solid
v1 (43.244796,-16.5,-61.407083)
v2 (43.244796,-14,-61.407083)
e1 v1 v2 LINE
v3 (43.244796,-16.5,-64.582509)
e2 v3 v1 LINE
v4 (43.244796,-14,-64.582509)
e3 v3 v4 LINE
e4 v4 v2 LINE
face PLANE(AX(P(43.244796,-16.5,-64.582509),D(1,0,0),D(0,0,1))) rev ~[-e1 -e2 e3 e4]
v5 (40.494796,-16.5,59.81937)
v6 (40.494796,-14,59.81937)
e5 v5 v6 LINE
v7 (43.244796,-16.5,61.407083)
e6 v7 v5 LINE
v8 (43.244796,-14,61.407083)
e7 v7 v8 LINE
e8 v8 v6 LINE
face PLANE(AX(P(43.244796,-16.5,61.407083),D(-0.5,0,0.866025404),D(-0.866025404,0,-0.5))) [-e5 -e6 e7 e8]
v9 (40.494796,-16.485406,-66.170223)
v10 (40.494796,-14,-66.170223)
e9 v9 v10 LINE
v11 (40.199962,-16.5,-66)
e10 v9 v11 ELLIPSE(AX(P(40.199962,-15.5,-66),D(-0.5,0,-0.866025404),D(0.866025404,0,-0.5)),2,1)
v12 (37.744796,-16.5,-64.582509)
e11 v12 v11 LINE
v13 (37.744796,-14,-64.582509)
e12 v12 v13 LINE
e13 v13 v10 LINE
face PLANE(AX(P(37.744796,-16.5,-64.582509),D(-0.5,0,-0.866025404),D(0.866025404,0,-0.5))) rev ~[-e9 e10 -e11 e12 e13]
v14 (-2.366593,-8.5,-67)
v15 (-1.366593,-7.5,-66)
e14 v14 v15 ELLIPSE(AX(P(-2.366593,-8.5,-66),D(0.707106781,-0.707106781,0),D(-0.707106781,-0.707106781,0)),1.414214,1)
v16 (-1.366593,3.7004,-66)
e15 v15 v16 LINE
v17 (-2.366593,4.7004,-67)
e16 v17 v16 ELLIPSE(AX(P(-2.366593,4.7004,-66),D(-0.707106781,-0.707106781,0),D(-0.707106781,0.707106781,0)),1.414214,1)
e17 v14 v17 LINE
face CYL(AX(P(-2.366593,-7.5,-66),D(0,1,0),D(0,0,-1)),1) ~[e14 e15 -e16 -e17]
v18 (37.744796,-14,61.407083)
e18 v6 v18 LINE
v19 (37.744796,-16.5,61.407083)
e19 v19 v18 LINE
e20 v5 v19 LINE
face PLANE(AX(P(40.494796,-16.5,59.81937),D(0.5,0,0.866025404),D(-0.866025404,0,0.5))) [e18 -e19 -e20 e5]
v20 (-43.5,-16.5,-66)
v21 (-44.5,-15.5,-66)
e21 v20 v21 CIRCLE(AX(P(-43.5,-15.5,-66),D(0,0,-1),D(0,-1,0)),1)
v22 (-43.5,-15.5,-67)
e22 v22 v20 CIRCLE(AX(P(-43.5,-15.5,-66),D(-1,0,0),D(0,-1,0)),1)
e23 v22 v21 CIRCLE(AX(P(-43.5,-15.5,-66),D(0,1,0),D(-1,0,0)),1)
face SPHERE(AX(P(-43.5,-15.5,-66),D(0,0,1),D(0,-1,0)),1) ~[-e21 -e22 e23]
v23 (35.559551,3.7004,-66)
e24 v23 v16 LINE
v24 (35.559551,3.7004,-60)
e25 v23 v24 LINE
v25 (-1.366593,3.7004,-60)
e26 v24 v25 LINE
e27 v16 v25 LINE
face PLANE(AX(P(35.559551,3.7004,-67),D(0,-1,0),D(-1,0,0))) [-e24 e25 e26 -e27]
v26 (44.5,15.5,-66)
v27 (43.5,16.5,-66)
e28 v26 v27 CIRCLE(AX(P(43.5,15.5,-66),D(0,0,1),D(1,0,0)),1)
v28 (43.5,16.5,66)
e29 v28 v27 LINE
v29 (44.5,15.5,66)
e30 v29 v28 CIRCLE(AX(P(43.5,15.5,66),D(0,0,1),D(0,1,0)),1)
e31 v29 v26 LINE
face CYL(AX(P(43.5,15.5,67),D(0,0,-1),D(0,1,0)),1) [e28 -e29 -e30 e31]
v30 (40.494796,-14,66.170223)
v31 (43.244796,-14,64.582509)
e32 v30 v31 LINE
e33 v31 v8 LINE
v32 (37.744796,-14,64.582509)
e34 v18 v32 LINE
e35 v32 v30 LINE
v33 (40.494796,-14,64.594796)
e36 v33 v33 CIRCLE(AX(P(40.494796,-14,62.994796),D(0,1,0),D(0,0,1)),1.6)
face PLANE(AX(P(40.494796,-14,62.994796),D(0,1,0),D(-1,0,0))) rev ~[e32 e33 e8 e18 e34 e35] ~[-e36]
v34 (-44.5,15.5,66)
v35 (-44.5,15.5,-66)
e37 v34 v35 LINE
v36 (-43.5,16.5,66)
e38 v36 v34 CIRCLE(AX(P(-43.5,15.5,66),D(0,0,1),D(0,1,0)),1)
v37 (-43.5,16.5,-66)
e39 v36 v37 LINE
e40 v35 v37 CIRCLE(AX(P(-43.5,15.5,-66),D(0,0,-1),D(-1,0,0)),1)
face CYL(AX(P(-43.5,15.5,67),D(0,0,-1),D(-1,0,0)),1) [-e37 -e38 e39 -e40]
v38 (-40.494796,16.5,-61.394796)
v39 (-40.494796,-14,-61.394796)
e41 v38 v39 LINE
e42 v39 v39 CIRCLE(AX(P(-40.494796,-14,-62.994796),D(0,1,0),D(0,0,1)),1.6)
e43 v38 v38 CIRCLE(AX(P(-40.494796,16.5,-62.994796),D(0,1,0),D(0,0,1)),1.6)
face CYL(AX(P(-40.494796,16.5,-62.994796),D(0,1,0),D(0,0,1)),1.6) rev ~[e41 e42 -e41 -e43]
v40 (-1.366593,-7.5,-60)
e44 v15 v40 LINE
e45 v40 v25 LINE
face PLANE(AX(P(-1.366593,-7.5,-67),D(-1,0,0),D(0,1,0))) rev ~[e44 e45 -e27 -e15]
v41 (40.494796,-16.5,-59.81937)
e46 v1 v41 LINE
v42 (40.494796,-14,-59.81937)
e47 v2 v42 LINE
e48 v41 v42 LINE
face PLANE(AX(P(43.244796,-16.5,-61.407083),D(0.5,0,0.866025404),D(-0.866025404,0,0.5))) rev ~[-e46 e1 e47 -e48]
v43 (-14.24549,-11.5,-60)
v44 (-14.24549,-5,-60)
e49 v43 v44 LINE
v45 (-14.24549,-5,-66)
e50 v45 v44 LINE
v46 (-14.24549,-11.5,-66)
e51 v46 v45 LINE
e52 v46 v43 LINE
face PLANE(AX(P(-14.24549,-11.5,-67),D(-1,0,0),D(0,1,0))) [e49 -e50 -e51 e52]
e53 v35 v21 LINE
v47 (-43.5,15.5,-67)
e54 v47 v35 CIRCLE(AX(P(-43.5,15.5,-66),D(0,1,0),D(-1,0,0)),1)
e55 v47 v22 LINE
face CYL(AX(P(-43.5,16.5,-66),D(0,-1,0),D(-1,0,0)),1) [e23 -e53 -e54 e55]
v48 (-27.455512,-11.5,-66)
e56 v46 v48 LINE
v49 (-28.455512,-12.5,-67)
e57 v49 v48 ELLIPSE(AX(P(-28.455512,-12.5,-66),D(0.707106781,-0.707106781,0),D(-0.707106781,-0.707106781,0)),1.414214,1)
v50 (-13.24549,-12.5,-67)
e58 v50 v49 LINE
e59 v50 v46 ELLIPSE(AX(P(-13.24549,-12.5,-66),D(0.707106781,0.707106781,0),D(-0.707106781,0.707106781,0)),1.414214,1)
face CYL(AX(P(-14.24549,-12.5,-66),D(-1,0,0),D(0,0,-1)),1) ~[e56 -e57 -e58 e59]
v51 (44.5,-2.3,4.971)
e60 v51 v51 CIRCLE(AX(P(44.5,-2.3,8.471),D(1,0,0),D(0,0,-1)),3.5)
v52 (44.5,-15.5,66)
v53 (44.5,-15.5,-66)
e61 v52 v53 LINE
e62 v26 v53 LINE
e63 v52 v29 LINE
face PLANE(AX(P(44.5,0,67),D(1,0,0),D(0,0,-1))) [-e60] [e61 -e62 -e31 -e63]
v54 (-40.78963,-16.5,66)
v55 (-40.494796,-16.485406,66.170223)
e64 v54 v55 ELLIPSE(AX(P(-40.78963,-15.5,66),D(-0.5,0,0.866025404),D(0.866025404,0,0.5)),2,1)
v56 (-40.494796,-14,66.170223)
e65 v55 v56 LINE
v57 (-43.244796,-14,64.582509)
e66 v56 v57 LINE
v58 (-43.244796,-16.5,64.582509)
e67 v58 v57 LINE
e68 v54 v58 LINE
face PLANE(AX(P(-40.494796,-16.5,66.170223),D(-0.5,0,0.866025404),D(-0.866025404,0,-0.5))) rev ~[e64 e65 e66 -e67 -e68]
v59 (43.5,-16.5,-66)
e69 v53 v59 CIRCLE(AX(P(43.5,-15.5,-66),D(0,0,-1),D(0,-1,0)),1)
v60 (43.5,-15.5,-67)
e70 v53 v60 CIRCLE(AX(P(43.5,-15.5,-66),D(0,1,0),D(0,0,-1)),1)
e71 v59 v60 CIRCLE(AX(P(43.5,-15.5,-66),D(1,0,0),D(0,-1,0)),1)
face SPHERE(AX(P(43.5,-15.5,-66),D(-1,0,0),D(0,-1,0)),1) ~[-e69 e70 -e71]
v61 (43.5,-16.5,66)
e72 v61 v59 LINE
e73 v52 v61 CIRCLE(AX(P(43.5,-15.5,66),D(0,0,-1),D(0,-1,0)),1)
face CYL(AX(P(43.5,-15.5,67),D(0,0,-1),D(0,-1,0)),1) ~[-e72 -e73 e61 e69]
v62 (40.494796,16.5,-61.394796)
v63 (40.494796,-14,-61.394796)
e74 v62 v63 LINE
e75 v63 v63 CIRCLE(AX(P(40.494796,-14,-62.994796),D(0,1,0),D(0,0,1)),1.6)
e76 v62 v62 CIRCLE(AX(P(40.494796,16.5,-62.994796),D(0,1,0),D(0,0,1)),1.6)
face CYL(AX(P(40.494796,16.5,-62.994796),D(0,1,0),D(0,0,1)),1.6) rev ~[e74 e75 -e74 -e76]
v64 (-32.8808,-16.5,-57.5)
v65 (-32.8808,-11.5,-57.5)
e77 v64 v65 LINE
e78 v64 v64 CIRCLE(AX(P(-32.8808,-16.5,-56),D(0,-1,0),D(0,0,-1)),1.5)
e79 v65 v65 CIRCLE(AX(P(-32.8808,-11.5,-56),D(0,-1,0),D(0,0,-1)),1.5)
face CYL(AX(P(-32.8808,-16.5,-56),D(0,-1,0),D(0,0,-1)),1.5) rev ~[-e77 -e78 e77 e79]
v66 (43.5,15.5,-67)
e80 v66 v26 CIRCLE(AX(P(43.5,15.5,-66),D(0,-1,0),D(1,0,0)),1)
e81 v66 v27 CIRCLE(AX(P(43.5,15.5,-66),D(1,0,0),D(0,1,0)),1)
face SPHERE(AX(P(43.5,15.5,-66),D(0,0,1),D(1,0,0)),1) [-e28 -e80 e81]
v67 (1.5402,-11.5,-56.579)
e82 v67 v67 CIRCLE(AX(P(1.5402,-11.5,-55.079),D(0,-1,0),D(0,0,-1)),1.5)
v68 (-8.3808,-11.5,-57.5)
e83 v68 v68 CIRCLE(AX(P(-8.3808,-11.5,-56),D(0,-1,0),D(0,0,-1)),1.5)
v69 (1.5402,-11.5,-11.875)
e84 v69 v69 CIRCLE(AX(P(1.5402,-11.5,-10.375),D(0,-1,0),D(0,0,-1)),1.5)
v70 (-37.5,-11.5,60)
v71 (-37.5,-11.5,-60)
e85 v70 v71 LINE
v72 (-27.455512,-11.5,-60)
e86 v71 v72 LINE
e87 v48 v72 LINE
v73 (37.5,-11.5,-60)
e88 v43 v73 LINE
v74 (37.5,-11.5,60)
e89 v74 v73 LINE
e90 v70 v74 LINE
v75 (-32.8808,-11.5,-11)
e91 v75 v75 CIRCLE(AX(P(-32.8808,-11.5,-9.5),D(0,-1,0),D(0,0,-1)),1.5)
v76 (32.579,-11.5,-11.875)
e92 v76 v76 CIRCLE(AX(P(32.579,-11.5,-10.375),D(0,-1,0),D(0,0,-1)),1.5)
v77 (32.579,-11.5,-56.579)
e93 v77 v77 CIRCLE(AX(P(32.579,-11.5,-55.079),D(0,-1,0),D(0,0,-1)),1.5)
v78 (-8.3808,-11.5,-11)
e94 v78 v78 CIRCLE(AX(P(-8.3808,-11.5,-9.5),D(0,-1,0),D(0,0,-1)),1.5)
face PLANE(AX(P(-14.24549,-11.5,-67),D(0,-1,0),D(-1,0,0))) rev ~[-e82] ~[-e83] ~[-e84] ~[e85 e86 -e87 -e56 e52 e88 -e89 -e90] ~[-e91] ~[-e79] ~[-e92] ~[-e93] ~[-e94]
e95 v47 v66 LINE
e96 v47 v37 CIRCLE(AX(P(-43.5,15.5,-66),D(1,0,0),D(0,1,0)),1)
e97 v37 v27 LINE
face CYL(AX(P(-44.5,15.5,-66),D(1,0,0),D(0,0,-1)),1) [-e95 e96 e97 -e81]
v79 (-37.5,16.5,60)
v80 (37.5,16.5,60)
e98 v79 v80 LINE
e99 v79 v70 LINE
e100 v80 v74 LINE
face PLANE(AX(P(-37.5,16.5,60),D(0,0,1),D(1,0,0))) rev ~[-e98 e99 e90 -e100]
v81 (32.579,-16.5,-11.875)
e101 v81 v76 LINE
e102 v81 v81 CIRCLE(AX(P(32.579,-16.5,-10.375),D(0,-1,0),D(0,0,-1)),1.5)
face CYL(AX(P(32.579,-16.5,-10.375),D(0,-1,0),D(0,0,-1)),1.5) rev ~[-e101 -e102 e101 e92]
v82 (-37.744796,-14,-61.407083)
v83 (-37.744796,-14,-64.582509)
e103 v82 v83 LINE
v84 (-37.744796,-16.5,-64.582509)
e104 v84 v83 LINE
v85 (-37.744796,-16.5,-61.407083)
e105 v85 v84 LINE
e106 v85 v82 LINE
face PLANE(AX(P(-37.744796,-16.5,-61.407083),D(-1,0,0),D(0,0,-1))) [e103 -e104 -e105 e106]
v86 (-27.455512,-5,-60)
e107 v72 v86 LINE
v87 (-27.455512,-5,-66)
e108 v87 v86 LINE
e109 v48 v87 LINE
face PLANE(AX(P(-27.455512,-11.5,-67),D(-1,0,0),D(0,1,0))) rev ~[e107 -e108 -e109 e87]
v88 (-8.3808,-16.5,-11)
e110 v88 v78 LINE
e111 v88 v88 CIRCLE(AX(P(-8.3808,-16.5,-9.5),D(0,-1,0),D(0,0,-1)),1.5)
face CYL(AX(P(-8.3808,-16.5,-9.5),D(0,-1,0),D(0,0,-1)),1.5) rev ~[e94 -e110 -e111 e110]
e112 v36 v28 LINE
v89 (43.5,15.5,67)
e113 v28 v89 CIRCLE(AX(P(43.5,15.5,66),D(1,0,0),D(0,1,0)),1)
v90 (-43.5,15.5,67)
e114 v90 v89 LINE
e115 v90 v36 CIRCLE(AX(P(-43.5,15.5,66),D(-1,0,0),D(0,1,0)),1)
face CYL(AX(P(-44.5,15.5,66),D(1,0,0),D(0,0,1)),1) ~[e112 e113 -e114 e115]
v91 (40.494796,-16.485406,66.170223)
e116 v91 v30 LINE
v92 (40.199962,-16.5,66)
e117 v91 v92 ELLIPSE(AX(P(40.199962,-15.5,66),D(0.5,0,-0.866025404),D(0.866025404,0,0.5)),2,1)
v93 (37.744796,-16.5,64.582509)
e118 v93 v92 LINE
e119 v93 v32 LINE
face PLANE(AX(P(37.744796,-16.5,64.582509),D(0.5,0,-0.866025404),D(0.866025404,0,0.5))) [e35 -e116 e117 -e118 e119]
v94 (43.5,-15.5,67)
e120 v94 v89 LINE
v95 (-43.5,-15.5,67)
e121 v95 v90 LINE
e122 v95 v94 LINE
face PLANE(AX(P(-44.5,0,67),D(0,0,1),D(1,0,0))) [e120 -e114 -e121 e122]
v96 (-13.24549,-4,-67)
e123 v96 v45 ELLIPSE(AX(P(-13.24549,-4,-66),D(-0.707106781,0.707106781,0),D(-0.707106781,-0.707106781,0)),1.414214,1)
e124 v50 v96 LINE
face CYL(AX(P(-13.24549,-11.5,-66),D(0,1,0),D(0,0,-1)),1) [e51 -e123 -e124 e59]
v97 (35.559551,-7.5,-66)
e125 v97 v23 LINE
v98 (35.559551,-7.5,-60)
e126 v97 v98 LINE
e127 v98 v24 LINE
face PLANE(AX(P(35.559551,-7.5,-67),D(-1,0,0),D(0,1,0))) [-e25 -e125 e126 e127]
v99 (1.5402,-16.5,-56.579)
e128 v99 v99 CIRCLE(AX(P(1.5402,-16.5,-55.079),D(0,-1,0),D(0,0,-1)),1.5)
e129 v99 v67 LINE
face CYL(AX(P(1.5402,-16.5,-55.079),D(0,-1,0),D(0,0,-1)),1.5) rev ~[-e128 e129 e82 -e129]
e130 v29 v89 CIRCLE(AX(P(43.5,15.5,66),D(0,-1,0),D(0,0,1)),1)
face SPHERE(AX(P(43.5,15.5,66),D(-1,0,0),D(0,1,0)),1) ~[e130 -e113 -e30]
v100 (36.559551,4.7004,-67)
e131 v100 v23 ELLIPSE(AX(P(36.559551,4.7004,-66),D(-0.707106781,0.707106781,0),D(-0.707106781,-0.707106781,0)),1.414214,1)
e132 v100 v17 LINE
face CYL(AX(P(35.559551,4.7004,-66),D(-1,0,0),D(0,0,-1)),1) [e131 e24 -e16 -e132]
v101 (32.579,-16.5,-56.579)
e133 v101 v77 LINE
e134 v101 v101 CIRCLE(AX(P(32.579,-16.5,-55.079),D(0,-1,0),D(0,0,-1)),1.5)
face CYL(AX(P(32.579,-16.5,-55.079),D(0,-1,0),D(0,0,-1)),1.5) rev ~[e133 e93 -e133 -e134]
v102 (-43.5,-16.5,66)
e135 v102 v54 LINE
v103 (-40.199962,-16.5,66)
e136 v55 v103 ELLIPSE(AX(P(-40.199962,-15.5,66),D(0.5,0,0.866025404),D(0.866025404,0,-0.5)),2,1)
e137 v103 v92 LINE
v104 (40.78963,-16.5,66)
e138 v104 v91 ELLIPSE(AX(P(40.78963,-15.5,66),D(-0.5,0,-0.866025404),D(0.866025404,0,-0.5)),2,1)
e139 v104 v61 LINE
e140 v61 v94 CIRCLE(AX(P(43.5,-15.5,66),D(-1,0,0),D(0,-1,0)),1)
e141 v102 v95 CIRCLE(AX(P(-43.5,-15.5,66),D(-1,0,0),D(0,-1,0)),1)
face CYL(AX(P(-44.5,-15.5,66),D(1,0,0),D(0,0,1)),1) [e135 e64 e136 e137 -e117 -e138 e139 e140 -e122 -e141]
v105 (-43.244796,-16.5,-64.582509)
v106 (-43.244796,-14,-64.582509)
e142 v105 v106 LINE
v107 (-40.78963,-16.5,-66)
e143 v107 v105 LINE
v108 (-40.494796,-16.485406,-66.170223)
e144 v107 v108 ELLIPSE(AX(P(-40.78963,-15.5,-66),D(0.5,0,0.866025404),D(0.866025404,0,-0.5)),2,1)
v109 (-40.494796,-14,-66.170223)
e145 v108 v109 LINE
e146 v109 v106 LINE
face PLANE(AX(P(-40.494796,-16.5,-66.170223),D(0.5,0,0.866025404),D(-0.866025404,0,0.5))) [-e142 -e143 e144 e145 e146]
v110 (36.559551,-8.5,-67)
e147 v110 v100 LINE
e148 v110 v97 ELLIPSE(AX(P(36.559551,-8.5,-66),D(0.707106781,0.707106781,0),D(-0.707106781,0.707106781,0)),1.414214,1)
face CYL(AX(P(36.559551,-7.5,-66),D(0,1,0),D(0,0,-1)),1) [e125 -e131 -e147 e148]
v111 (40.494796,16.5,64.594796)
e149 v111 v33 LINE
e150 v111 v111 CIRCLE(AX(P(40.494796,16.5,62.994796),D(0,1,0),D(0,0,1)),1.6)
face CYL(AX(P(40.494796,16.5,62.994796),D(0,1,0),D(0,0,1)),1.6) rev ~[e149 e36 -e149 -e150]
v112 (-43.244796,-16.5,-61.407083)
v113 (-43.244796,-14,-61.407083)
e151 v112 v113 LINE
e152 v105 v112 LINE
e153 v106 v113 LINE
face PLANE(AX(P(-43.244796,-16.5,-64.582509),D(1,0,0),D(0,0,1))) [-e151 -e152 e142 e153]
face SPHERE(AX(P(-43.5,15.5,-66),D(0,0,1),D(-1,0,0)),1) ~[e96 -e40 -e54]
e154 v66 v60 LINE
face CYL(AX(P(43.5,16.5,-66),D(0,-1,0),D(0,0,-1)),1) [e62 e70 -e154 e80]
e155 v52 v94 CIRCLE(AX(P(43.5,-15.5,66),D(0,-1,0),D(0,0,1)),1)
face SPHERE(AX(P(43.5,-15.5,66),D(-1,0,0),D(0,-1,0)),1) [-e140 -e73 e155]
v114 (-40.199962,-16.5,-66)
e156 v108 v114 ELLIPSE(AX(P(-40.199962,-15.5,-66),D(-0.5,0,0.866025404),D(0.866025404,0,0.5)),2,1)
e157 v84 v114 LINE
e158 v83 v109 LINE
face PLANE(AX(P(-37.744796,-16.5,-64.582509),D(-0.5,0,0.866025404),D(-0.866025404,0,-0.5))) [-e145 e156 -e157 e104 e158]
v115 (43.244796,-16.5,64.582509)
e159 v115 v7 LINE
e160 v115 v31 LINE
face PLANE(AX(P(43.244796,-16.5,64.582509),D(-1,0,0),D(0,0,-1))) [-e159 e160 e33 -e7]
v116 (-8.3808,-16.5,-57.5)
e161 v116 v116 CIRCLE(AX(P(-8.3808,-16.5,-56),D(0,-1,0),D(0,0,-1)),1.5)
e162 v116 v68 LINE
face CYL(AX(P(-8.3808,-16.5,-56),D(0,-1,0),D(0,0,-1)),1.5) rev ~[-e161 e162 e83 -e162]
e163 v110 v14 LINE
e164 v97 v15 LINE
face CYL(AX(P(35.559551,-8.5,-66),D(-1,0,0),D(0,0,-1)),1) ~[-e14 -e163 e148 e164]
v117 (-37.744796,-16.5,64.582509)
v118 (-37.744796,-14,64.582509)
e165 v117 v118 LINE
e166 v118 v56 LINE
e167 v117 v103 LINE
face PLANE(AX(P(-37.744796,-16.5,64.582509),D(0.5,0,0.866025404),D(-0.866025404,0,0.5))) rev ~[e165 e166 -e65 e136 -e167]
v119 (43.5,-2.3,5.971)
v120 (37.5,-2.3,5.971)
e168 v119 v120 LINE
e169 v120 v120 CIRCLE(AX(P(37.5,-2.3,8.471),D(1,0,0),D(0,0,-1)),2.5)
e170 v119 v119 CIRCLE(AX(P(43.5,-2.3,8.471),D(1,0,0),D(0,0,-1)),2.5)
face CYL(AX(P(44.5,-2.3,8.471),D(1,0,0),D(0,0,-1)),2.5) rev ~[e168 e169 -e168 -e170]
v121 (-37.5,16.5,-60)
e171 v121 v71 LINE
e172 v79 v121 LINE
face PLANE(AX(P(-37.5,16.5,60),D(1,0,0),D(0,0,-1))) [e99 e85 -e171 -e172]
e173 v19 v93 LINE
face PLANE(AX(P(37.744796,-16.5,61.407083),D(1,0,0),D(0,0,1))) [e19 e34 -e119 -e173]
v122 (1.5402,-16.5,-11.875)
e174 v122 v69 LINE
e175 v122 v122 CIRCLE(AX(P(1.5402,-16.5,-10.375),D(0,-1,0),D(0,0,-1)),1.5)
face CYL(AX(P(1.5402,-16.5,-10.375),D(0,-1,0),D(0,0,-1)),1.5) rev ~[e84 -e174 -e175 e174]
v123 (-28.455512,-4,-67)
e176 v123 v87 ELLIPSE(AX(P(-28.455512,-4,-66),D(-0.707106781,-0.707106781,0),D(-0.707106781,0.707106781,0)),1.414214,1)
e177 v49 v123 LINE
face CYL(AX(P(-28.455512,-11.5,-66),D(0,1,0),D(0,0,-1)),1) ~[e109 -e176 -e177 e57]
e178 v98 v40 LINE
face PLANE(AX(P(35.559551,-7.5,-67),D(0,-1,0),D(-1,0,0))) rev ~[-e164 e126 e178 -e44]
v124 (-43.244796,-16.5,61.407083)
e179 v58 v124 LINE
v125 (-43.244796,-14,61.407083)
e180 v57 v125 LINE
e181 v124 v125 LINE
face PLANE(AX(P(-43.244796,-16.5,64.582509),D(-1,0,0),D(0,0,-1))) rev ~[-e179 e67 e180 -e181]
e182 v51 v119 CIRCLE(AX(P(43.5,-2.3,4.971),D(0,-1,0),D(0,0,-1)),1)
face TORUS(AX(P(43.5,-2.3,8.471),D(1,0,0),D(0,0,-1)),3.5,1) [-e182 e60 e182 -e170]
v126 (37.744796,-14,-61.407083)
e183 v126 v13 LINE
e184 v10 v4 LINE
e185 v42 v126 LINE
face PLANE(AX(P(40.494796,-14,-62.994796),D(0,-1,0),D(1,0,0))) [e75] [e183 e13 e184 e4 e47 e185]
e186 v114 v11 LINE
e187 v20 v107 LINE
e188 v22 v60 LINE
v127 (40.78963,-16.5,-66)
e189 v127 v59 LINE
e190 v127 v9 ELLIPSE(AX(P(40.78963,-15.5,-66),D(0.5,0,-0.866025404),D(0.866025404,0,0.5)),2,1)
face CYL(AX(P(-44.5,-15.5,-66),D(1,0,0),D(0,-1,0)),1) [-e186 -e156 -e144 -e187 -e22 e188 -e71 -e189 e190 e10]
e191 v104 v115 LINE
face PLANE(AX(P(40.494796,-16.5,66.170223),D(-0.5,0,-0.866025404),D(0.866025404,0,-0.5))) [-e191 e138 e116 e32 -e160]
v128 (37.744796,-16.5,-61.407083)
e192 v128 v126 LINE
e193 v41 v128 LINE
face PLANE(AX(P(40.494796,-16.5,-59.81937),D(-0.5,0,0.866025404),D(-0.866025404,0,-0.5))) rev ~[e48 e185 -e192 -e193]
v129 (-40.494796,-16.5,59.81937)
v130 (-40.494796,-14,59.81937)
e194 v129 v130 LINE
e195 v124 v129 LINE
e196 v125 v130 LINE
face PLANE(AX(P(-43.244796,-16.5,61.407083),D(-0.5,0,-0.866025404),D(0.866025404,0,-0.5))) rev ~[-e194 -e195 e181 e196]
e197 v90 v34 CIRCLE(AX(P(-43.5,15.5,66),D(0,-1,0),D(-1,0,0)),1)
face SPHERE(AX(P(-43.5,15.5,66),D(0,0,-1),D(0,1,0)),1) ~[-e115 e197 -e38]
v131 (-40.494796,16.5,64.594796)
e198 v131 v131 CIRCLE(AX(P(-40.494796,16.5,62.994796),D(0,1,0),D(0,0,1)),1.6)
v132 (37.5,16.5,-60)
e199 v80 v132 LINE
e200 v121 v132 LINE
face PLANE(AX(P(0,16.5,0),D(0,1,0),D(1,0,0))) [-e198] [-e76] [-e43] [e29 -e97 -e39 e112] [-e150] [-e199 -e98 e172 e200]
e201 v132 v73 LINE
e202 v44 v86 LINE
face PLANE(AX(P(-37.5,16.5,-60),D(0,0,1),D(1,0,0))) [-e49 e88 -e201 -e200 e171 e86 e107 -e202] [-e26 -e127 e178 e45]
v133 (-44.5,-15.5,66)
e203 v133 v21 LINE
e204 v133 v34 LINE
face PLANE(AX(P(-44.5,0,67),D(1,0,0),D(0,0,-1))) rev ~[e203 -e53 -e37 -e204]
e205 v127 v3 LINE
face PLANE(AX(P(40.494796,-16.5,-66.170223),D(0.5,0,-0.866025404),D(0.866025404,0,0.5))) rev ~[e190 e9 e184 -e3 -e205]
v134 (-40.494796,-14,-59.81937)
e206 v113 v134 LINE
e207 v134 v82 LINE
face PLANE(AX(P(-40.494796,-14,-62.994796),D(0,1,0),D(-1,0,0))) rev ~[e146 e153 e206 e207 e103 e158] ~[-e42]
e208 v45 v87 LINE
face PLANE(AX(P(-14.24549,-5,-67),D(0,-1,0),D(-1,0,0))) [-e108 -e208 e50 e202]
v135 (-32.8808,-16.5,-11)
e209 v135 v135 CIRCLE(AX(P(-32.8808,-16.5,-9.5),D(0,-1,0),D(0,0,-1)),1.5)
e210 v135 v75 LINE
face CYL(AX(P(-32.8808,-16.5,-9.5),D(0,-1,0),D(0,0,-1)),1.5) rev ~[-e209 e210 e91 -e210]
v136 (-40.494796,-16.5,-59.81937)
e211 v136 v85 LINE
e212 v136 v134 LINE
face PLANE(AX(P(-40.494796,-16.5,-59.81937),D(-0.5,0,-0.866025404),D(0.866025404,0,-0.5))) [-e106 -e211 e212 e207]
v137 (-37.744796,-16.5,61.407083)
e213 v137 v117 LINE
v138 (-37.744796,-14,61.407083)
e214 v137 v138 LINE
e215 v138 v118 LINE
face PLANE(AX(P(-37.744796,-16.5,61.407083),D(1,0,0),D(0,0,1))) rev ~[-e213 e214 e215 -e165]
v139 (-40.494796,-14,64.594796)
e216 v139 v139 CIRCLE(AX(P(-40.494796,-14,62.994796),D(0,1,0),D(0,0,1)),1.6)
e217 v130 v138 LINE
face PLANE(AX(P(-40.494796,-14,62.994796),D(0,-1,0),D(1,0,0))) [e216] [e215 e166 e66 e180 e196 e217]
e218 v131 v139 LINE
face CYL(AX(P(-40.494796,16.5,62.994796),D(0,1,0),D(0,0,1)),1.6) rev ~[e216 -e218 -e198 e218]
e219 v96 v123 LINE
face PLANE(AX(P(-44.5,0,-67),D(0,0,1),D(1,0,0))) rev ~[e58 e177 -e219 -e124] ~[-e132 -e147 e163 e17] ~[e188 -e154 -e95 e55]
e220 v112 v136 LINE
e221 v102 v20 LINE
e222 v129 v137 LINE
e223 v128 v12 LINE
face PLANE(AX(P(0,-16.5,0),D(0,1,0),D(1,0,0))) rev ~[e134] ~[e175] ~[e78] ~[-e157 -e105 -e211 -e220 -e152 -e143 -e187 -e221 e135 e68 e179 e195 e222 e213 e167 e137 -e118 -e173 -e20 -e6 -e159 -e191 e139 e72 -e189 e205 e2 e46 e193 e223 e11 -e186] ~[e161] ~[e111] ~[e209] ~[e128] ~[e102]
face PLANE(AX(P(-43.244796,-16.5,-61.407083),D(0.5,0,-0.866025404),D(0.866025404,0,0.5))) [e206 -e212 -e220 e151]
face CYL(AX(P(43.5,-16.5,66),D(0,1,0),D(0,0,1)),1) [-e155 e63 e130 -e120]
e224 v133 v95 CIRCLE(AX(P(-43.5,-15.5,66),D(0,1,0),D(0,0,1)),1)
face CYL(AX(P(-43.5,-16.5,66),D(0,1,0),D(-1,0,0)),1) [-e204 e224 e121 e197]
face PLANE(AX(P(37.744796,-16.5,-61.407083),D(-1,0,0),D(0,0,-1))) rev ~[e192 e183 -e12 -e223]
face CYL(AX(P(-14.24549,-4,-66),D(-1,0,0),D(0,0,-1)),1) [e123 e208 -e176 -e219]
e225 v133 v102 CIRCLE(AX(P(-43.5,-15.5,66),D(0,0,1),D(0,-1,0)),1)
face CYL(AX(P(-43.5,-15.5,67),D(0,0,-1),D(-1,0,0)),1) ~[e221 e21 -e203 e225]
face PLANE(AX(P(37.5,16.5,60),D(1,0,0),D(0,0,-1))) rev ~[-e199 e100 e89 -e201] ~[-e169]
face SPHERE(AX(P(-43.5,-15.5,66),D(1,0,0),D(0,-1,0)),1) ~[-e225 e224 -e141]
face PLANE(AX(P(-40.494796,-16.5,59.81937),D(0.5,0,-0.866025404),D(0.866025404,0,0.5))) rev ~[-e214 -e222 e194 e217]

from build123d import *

# Parameters (mm, degrees)
SKETCH_1_W          = 89
SKETCH_1_H          = 134
EXTRUDE_2_DEPTH     = 16.5
SKETCH_4_W          = 75
SKETCH_4_H          = 120
CUT_EXTRUDE_1_DEPTH = 28
CUT_EXTRUDE1_REACH  = 88.938
SKETCH4_R           = 1.5
CUT_EXTRUDE2_REACH  = 144.157
SKETCH7_W           = 13.210021701
SKETCH7_H           = 6.5
SKETCH7_W_2         = 36.926143907
SKETCH7_H_2         = 11.2004
CUT_EXTRUDE3_REACH  = 114.615
SKETCH8_R           = 2.5
FILLET3_R           = 1
SKETCH9_R           = 1.6
CUT_EXTRUDE4_DEPTH  = 87.938196439
CUT_EXTRUDE5_DEPTH  = 2.5


with BuildPart() as part:
    # 草圖1 → 填料-伸長2 (new, symmetric)
    with BuildSketch(Plane(origin=(0, 0, 0), x_dir=(1, 0, 0), z_dir=(0, 1, 0))):
        Rectangle(SKETCH_1_W, SKETCH_1_H)
    extrude(amount=EXTRUDE_2_DEPTH, both=True)

    # 草圖4 → 除料-伸長1 (cut)
    with BuildSketch(Plane(origin=(0, 16.5, 0), x_dir=(1, 0, 0), z_dir=(0, 1, 0))):
        Rectangle(SKETCH_4_W, SKETCH_4_H)
    extrude(amount=-CUT_EXTRUDE_1_DEPTH, mode=Mode.SUBTRACT)

    # Sketch4 → Cut-Extrude1 (cut, up to next)
    with BuildSketch(Plane.XZ.offset(16.5), mode=Mode.PRIVATE) as cut_extrude1_sk1:
        with Locations(Location((-32.8808, -9.5, 0), (0, 0, 270))):
            Circle(SKETCH4_R)
    cut_extrude1_tool1 = extrude(cut_extrude1_sk1.sketch, amount=-CUT_EXTRUDE1_REACH, mode=Mode.PRIVATE) & part.part
    # Sketch4 → Cut-Extrude1 (cut, up to next)
    with BuildSketch(Plane.XZ.offset(16.5), mode=Mode.PRIVATE) as cut_extrude1_sk2:
        with Locations(Location((-8.3808, -9.5, 0), (0, 0, 270))):
            Circle(SKETCH4_R)
    cut_extrude1_tool2 = extrude(cut_extrude1_sk2.sketch, amount=-CUT_EXTRUDE1_REACH, mode=Mode.PRIVATE) & part.part
    # Sketch4 → Cut-Extrude1 (cut, up to next)
    with BuildSketch(Plane.XZ.offset(16.5), mode=Mode.PRIVATE) as cut_extrude1_sk3:
        with Locations(Location((-32.8808, -56, 0), (0, 0, 270))):
            Circle(SKETCH4_R)
    cut_extrude1_tool3 = extrude(cut_extrude1_sk3.sketch, amount=-CUT_EXTRUDE1_REACH, mode=Mode.PRIVATE) & part.part
    # Sketch4 → Cut-Extrude1 (cut, up to next)
    with BuildSketch(Plane.XZ.offset(16.5), mode=Mode.PRIVATE) as cut_extrude1_sk4:
        with Locations(Location((-8.3808, -56, 0), (0, 0, 270))):
            Circle(SKETCH4_R)
    cut_extrude1_tool4 = extrude(cut_extrude1_sk4.sketch, amount=-CUT_EXTRUDE1_REACH, mode=Mode.PRIVATE) & part.part
    # Sketch4 → Cut-Extrude1 (cut, up to next)
    with BuildSketch(Plane.XZ.offset(16.5), mode=Mode.PRIVATE) as cut_extrude1_sk5:
        with Locations(Location((1.5402, -10.375, 0), (0, 0, 270))):
            Circle(SKETCH4_R)
    cut_extrude1_tool5 = extrude(cut_extrude1_sk5.sketch, amount=-CUT_EXTRUDE1_REACH, mode=Mode.PRIVATE) & part.part
    # Sketch4 → Cut-Extrude1 (cut, up to next)
    with BuildSketch(Plane.XZ.offset(16.5), mode=Mode.PRIVATE) as cut_extrude1_sk6:
        with Locations(Location((32.579, -10.375, 0), (0, 0, 270))):
            Circle(SKETCH4_R)
    cut_extrude1_tool6 = extrude(cut_extrude1_sk6.sketch, amount=-CUT_EXTRUDE1_REACH, mode=Mode.PRIVATE) & part.part
    # Sketch4 → Cut-Extrude1 (cut, up to next)
    with BuildSketch(Plane.XZ.offset(16.5), mode=Mode.PRIVATE) as cut_extrude1_sk7:
        with Locations(Location((1.5402, -55.079, 0), (0, 0, 270))):
            Circle(SKETCH4_R)
    cut_extrude1_tool7 = extrude(cut_extrude1_sk7.sketch, amount=-CUT_EXTRUDE1_REACH, mode=Mode.PRIVATE) & part.part
    # Sketch4 → Cut-Extrude1 (cut, up to next)
    with BuildSketch(Plane.XZ.offset(16.5), mode=Mode.PRIVATE) as cut_extrude1_sk8:
        with Locations(Location((32.579, -55.079, 0), (0, 0, 270))):
            Circle(SKETCH4_R)
    cut_extrude1_tool8 = extrude(cut_extrude1_sk8.sketch, amount=-CUT_EXTRUDE1_REACH, mode=Mode.PRIVATE) & part.part
    add(cut_extrude1_tool1.solids().sort_by_distance((-32.8808, -16.5, -9.5))[0], mode=Mode.SUBTRACT)
    add(cut_extrude1_tool2.solids().sort_by_distance((-8.3808, -16.5, -9.5))[0], mode=Mode.SUBTRACT)
    add(cut_extrude1_tool3.solids().sort_by_distance((-32.8808, -16.5, -56))[0], mode=Mode.SUBTRACT)
    add(cut_extrude1_tool4.solids().sort_by_distance((-8.3808, -16.5, -56))[0], mode=Mode.SUBTRACT)
    add(cut_extrude1_tool5.solids().sort_by_distance((1.5402, -16.5, -10.375))[0], mode=Mode.SUBTRACT)
    add(cut_extrude1_tool6.solids().sort_by_distance((32.579, -16.5, -10.375))[0], mode=Mode.SUBTRACT)
    add(cut_extrude1_tool7.solids().sort_by_distance((1.5402, -16.5, -55.079))[0], mode=Mode.SUBTRACT)
    add(cut_extrude1_tool8.solids().sort_by_distance((32.579, -16.5, -55.079))[0], mode=Mode.SUBTRACT)

    # Sketch7 → Cut-Extrude2 (cut, up to next)
    with BuildSketch(Plane(origin=(0, 0, -67), x_dir=(-1, 0, 0), z_dir=(0, 0, -1)), mode=Mode.PRIVATE) as cut_extrude2_sk1:
        with Locations((20.850501077, -8.25)):
            Rectangle(SKETCH7_W, SKETCH7_H)
    cut_extrude2_tool1 = extrude(cut_extrude2_sk1.sketch, amount=-CUT_EXTRUDE2_REACH, mode=Mode.PRIVATE) & part.part
    # Sketch7 → Cut-Extrude2 (cut, up to next)
    with BuildSketch(Plane(origin=(0, 0, -67), x_dir=(-1, 0, 0), z_dir=(0, 0, -1)), mode=Mode.PRIVATE) as cut_extrude2_sk2:
        with Locations((-17.096479408, -1.8998)):
            Rectangle(SKETCH7_W_2, SKETCH7_H_2)
    cut_extrude2_tool2 = extrude(cut_extrude2_sk2.sketch, amount=-CUT_EXTRUDE2_REACH, mode=Mode.PRIVATE) & part.part
    add(cut_extrude2_tool1.solids().sort_by_distance((-20.850501, -8.25, -67))[0], mode=Mode.SUBTRACT)
    add(cut_extrude2_tool2.solids().sort_by_distance((17.096479, -1.8998, -67))[0], mode=Mode.SUBTRACT)

    # Sketch8 → Cut-Extrude3 (cut, up to next)
    with BuildSketch(Plane(origin=(44.5, 0, 0), x_dir=(0, 0, -1), z_dir=(1, 0, 0)), mode=Mode.PRIVATE) as cut_extrude3_sk1:
        with Locations((-8.471, -2.3)):
            Circle(SKETCH8_R)
    cut_extrude3_tool1 = extrude(cut_extrude3_sk1.sketch, amount=-CUT_EXTRUDE3_REACH, mode=Mode.PRIVATE) & part.part
    add(cut_extrude3_tool1.solids().sort_by_distance((44.5, -2.3, 8.471))[0], mode=Mode.SUBTRACT)

    # Fillet3
    fillet3_edges = [part.edges().sort_by_distance(p)[0] for p in [
        (-44.5, 16.5, 0),
        (0, 16.5, 67),
        (44.5, 16.5, 0),
        (0, -16.5, 67),
        (-44.5, -16.5, 0),
        (0, -16.5, -67),
        (44.5, -16.5, 0),
        (-20.850501078, -5, -67),
        (-14.245490227, -8.25, -67),
        (-20.850501078, -11.5, -67),
        (-27.455511928, -8.25, -67),
        (17.096479408, 3.7004, -67),
        (35.559551361, -1.8998, -67),
        (17.096479408, -7.5, -67),
        (-1.366592546, -1.8998, -67),
        (44.5, 0, 67),
        (-44.5, 0, 67),
        (-44.5, 0, -67),
        (44.5, 0, -67),
        (44.5, -2.3, 10.971),
        (0, 16.5, -67),
    ]]
    fillet(fillet3_edges, radius=FILLET3_R)

    # Sketch9 → Cut-Extrude4 (cut, through all)
    with BuildSketch(Plane(origin=(0, 16.5, 0), x_dir=(1, 0, 0), z_dir=(0, 1, 0))):
        with Locations(Location((-40.49479618, 62.99479618, 0), (0, 0, 270))):
            Circle(SKETCH9_R)
        with Locations(Location((40.49479618, 62.99479618, 0), (0, 0, 270))):
            Circle(SKETCH9_R)
        with Locations(Location((40.49479618, -62.99479618, 0), (0, 0, 270))):
            Circle(SKETCH9_R)
        with Locations(Location((-40.49479618, -62.99479618, 0), (0, 0, 270))):
            Circle(SKETCH9_R)
    extrude(amount=-CUT_EXTRUDE4_DEPTH, mode=Mode.SUBTRACT)

    # Sketch10 → Cut-Extrude5 (cut)
    with BuildSketch(Plane.XZ.offset(16.5)):
        Polygon((-40.49479618, 66.170222661), (-43.24479618, 64.58250942), (-43.24479618, 61.40708294), (-40.49479618, 59.819369699), (-37.74479618, 61.40708294), (-37.74479618, 64.58250942), align=None)
        Polygon((37.74479618, 64.58250942), (40.49479618, 66.170222661), (43.24479618, 64.58250942), (43.24479618, 61.40708294), (40.49479618, 59.819369699), (37.74479618, 61.40708294), align=None)
        Polygon((37.74479618, -61.40708294), (37.74479618, -64.58250942), (40.49479618, -66.170222661), (43.24479618, -64.58250942), (43.24479618, -61.40708294), (40.49479618, -59.819369699), align=None)
        Polygon((-37.74479618, -64.58250942), (-40.49479618, -66.170222661), (-43.24479618, -64.58250942), (-43.24479618, -61.40708294), (-40.49479618, -59.819369699), (-37.74479618, -61.40708294), align=None)
    extrude(amount=-CUT_EXTRUDE5_DEPTH, mode=Mode.SUBTRACT)


solid = part.part
